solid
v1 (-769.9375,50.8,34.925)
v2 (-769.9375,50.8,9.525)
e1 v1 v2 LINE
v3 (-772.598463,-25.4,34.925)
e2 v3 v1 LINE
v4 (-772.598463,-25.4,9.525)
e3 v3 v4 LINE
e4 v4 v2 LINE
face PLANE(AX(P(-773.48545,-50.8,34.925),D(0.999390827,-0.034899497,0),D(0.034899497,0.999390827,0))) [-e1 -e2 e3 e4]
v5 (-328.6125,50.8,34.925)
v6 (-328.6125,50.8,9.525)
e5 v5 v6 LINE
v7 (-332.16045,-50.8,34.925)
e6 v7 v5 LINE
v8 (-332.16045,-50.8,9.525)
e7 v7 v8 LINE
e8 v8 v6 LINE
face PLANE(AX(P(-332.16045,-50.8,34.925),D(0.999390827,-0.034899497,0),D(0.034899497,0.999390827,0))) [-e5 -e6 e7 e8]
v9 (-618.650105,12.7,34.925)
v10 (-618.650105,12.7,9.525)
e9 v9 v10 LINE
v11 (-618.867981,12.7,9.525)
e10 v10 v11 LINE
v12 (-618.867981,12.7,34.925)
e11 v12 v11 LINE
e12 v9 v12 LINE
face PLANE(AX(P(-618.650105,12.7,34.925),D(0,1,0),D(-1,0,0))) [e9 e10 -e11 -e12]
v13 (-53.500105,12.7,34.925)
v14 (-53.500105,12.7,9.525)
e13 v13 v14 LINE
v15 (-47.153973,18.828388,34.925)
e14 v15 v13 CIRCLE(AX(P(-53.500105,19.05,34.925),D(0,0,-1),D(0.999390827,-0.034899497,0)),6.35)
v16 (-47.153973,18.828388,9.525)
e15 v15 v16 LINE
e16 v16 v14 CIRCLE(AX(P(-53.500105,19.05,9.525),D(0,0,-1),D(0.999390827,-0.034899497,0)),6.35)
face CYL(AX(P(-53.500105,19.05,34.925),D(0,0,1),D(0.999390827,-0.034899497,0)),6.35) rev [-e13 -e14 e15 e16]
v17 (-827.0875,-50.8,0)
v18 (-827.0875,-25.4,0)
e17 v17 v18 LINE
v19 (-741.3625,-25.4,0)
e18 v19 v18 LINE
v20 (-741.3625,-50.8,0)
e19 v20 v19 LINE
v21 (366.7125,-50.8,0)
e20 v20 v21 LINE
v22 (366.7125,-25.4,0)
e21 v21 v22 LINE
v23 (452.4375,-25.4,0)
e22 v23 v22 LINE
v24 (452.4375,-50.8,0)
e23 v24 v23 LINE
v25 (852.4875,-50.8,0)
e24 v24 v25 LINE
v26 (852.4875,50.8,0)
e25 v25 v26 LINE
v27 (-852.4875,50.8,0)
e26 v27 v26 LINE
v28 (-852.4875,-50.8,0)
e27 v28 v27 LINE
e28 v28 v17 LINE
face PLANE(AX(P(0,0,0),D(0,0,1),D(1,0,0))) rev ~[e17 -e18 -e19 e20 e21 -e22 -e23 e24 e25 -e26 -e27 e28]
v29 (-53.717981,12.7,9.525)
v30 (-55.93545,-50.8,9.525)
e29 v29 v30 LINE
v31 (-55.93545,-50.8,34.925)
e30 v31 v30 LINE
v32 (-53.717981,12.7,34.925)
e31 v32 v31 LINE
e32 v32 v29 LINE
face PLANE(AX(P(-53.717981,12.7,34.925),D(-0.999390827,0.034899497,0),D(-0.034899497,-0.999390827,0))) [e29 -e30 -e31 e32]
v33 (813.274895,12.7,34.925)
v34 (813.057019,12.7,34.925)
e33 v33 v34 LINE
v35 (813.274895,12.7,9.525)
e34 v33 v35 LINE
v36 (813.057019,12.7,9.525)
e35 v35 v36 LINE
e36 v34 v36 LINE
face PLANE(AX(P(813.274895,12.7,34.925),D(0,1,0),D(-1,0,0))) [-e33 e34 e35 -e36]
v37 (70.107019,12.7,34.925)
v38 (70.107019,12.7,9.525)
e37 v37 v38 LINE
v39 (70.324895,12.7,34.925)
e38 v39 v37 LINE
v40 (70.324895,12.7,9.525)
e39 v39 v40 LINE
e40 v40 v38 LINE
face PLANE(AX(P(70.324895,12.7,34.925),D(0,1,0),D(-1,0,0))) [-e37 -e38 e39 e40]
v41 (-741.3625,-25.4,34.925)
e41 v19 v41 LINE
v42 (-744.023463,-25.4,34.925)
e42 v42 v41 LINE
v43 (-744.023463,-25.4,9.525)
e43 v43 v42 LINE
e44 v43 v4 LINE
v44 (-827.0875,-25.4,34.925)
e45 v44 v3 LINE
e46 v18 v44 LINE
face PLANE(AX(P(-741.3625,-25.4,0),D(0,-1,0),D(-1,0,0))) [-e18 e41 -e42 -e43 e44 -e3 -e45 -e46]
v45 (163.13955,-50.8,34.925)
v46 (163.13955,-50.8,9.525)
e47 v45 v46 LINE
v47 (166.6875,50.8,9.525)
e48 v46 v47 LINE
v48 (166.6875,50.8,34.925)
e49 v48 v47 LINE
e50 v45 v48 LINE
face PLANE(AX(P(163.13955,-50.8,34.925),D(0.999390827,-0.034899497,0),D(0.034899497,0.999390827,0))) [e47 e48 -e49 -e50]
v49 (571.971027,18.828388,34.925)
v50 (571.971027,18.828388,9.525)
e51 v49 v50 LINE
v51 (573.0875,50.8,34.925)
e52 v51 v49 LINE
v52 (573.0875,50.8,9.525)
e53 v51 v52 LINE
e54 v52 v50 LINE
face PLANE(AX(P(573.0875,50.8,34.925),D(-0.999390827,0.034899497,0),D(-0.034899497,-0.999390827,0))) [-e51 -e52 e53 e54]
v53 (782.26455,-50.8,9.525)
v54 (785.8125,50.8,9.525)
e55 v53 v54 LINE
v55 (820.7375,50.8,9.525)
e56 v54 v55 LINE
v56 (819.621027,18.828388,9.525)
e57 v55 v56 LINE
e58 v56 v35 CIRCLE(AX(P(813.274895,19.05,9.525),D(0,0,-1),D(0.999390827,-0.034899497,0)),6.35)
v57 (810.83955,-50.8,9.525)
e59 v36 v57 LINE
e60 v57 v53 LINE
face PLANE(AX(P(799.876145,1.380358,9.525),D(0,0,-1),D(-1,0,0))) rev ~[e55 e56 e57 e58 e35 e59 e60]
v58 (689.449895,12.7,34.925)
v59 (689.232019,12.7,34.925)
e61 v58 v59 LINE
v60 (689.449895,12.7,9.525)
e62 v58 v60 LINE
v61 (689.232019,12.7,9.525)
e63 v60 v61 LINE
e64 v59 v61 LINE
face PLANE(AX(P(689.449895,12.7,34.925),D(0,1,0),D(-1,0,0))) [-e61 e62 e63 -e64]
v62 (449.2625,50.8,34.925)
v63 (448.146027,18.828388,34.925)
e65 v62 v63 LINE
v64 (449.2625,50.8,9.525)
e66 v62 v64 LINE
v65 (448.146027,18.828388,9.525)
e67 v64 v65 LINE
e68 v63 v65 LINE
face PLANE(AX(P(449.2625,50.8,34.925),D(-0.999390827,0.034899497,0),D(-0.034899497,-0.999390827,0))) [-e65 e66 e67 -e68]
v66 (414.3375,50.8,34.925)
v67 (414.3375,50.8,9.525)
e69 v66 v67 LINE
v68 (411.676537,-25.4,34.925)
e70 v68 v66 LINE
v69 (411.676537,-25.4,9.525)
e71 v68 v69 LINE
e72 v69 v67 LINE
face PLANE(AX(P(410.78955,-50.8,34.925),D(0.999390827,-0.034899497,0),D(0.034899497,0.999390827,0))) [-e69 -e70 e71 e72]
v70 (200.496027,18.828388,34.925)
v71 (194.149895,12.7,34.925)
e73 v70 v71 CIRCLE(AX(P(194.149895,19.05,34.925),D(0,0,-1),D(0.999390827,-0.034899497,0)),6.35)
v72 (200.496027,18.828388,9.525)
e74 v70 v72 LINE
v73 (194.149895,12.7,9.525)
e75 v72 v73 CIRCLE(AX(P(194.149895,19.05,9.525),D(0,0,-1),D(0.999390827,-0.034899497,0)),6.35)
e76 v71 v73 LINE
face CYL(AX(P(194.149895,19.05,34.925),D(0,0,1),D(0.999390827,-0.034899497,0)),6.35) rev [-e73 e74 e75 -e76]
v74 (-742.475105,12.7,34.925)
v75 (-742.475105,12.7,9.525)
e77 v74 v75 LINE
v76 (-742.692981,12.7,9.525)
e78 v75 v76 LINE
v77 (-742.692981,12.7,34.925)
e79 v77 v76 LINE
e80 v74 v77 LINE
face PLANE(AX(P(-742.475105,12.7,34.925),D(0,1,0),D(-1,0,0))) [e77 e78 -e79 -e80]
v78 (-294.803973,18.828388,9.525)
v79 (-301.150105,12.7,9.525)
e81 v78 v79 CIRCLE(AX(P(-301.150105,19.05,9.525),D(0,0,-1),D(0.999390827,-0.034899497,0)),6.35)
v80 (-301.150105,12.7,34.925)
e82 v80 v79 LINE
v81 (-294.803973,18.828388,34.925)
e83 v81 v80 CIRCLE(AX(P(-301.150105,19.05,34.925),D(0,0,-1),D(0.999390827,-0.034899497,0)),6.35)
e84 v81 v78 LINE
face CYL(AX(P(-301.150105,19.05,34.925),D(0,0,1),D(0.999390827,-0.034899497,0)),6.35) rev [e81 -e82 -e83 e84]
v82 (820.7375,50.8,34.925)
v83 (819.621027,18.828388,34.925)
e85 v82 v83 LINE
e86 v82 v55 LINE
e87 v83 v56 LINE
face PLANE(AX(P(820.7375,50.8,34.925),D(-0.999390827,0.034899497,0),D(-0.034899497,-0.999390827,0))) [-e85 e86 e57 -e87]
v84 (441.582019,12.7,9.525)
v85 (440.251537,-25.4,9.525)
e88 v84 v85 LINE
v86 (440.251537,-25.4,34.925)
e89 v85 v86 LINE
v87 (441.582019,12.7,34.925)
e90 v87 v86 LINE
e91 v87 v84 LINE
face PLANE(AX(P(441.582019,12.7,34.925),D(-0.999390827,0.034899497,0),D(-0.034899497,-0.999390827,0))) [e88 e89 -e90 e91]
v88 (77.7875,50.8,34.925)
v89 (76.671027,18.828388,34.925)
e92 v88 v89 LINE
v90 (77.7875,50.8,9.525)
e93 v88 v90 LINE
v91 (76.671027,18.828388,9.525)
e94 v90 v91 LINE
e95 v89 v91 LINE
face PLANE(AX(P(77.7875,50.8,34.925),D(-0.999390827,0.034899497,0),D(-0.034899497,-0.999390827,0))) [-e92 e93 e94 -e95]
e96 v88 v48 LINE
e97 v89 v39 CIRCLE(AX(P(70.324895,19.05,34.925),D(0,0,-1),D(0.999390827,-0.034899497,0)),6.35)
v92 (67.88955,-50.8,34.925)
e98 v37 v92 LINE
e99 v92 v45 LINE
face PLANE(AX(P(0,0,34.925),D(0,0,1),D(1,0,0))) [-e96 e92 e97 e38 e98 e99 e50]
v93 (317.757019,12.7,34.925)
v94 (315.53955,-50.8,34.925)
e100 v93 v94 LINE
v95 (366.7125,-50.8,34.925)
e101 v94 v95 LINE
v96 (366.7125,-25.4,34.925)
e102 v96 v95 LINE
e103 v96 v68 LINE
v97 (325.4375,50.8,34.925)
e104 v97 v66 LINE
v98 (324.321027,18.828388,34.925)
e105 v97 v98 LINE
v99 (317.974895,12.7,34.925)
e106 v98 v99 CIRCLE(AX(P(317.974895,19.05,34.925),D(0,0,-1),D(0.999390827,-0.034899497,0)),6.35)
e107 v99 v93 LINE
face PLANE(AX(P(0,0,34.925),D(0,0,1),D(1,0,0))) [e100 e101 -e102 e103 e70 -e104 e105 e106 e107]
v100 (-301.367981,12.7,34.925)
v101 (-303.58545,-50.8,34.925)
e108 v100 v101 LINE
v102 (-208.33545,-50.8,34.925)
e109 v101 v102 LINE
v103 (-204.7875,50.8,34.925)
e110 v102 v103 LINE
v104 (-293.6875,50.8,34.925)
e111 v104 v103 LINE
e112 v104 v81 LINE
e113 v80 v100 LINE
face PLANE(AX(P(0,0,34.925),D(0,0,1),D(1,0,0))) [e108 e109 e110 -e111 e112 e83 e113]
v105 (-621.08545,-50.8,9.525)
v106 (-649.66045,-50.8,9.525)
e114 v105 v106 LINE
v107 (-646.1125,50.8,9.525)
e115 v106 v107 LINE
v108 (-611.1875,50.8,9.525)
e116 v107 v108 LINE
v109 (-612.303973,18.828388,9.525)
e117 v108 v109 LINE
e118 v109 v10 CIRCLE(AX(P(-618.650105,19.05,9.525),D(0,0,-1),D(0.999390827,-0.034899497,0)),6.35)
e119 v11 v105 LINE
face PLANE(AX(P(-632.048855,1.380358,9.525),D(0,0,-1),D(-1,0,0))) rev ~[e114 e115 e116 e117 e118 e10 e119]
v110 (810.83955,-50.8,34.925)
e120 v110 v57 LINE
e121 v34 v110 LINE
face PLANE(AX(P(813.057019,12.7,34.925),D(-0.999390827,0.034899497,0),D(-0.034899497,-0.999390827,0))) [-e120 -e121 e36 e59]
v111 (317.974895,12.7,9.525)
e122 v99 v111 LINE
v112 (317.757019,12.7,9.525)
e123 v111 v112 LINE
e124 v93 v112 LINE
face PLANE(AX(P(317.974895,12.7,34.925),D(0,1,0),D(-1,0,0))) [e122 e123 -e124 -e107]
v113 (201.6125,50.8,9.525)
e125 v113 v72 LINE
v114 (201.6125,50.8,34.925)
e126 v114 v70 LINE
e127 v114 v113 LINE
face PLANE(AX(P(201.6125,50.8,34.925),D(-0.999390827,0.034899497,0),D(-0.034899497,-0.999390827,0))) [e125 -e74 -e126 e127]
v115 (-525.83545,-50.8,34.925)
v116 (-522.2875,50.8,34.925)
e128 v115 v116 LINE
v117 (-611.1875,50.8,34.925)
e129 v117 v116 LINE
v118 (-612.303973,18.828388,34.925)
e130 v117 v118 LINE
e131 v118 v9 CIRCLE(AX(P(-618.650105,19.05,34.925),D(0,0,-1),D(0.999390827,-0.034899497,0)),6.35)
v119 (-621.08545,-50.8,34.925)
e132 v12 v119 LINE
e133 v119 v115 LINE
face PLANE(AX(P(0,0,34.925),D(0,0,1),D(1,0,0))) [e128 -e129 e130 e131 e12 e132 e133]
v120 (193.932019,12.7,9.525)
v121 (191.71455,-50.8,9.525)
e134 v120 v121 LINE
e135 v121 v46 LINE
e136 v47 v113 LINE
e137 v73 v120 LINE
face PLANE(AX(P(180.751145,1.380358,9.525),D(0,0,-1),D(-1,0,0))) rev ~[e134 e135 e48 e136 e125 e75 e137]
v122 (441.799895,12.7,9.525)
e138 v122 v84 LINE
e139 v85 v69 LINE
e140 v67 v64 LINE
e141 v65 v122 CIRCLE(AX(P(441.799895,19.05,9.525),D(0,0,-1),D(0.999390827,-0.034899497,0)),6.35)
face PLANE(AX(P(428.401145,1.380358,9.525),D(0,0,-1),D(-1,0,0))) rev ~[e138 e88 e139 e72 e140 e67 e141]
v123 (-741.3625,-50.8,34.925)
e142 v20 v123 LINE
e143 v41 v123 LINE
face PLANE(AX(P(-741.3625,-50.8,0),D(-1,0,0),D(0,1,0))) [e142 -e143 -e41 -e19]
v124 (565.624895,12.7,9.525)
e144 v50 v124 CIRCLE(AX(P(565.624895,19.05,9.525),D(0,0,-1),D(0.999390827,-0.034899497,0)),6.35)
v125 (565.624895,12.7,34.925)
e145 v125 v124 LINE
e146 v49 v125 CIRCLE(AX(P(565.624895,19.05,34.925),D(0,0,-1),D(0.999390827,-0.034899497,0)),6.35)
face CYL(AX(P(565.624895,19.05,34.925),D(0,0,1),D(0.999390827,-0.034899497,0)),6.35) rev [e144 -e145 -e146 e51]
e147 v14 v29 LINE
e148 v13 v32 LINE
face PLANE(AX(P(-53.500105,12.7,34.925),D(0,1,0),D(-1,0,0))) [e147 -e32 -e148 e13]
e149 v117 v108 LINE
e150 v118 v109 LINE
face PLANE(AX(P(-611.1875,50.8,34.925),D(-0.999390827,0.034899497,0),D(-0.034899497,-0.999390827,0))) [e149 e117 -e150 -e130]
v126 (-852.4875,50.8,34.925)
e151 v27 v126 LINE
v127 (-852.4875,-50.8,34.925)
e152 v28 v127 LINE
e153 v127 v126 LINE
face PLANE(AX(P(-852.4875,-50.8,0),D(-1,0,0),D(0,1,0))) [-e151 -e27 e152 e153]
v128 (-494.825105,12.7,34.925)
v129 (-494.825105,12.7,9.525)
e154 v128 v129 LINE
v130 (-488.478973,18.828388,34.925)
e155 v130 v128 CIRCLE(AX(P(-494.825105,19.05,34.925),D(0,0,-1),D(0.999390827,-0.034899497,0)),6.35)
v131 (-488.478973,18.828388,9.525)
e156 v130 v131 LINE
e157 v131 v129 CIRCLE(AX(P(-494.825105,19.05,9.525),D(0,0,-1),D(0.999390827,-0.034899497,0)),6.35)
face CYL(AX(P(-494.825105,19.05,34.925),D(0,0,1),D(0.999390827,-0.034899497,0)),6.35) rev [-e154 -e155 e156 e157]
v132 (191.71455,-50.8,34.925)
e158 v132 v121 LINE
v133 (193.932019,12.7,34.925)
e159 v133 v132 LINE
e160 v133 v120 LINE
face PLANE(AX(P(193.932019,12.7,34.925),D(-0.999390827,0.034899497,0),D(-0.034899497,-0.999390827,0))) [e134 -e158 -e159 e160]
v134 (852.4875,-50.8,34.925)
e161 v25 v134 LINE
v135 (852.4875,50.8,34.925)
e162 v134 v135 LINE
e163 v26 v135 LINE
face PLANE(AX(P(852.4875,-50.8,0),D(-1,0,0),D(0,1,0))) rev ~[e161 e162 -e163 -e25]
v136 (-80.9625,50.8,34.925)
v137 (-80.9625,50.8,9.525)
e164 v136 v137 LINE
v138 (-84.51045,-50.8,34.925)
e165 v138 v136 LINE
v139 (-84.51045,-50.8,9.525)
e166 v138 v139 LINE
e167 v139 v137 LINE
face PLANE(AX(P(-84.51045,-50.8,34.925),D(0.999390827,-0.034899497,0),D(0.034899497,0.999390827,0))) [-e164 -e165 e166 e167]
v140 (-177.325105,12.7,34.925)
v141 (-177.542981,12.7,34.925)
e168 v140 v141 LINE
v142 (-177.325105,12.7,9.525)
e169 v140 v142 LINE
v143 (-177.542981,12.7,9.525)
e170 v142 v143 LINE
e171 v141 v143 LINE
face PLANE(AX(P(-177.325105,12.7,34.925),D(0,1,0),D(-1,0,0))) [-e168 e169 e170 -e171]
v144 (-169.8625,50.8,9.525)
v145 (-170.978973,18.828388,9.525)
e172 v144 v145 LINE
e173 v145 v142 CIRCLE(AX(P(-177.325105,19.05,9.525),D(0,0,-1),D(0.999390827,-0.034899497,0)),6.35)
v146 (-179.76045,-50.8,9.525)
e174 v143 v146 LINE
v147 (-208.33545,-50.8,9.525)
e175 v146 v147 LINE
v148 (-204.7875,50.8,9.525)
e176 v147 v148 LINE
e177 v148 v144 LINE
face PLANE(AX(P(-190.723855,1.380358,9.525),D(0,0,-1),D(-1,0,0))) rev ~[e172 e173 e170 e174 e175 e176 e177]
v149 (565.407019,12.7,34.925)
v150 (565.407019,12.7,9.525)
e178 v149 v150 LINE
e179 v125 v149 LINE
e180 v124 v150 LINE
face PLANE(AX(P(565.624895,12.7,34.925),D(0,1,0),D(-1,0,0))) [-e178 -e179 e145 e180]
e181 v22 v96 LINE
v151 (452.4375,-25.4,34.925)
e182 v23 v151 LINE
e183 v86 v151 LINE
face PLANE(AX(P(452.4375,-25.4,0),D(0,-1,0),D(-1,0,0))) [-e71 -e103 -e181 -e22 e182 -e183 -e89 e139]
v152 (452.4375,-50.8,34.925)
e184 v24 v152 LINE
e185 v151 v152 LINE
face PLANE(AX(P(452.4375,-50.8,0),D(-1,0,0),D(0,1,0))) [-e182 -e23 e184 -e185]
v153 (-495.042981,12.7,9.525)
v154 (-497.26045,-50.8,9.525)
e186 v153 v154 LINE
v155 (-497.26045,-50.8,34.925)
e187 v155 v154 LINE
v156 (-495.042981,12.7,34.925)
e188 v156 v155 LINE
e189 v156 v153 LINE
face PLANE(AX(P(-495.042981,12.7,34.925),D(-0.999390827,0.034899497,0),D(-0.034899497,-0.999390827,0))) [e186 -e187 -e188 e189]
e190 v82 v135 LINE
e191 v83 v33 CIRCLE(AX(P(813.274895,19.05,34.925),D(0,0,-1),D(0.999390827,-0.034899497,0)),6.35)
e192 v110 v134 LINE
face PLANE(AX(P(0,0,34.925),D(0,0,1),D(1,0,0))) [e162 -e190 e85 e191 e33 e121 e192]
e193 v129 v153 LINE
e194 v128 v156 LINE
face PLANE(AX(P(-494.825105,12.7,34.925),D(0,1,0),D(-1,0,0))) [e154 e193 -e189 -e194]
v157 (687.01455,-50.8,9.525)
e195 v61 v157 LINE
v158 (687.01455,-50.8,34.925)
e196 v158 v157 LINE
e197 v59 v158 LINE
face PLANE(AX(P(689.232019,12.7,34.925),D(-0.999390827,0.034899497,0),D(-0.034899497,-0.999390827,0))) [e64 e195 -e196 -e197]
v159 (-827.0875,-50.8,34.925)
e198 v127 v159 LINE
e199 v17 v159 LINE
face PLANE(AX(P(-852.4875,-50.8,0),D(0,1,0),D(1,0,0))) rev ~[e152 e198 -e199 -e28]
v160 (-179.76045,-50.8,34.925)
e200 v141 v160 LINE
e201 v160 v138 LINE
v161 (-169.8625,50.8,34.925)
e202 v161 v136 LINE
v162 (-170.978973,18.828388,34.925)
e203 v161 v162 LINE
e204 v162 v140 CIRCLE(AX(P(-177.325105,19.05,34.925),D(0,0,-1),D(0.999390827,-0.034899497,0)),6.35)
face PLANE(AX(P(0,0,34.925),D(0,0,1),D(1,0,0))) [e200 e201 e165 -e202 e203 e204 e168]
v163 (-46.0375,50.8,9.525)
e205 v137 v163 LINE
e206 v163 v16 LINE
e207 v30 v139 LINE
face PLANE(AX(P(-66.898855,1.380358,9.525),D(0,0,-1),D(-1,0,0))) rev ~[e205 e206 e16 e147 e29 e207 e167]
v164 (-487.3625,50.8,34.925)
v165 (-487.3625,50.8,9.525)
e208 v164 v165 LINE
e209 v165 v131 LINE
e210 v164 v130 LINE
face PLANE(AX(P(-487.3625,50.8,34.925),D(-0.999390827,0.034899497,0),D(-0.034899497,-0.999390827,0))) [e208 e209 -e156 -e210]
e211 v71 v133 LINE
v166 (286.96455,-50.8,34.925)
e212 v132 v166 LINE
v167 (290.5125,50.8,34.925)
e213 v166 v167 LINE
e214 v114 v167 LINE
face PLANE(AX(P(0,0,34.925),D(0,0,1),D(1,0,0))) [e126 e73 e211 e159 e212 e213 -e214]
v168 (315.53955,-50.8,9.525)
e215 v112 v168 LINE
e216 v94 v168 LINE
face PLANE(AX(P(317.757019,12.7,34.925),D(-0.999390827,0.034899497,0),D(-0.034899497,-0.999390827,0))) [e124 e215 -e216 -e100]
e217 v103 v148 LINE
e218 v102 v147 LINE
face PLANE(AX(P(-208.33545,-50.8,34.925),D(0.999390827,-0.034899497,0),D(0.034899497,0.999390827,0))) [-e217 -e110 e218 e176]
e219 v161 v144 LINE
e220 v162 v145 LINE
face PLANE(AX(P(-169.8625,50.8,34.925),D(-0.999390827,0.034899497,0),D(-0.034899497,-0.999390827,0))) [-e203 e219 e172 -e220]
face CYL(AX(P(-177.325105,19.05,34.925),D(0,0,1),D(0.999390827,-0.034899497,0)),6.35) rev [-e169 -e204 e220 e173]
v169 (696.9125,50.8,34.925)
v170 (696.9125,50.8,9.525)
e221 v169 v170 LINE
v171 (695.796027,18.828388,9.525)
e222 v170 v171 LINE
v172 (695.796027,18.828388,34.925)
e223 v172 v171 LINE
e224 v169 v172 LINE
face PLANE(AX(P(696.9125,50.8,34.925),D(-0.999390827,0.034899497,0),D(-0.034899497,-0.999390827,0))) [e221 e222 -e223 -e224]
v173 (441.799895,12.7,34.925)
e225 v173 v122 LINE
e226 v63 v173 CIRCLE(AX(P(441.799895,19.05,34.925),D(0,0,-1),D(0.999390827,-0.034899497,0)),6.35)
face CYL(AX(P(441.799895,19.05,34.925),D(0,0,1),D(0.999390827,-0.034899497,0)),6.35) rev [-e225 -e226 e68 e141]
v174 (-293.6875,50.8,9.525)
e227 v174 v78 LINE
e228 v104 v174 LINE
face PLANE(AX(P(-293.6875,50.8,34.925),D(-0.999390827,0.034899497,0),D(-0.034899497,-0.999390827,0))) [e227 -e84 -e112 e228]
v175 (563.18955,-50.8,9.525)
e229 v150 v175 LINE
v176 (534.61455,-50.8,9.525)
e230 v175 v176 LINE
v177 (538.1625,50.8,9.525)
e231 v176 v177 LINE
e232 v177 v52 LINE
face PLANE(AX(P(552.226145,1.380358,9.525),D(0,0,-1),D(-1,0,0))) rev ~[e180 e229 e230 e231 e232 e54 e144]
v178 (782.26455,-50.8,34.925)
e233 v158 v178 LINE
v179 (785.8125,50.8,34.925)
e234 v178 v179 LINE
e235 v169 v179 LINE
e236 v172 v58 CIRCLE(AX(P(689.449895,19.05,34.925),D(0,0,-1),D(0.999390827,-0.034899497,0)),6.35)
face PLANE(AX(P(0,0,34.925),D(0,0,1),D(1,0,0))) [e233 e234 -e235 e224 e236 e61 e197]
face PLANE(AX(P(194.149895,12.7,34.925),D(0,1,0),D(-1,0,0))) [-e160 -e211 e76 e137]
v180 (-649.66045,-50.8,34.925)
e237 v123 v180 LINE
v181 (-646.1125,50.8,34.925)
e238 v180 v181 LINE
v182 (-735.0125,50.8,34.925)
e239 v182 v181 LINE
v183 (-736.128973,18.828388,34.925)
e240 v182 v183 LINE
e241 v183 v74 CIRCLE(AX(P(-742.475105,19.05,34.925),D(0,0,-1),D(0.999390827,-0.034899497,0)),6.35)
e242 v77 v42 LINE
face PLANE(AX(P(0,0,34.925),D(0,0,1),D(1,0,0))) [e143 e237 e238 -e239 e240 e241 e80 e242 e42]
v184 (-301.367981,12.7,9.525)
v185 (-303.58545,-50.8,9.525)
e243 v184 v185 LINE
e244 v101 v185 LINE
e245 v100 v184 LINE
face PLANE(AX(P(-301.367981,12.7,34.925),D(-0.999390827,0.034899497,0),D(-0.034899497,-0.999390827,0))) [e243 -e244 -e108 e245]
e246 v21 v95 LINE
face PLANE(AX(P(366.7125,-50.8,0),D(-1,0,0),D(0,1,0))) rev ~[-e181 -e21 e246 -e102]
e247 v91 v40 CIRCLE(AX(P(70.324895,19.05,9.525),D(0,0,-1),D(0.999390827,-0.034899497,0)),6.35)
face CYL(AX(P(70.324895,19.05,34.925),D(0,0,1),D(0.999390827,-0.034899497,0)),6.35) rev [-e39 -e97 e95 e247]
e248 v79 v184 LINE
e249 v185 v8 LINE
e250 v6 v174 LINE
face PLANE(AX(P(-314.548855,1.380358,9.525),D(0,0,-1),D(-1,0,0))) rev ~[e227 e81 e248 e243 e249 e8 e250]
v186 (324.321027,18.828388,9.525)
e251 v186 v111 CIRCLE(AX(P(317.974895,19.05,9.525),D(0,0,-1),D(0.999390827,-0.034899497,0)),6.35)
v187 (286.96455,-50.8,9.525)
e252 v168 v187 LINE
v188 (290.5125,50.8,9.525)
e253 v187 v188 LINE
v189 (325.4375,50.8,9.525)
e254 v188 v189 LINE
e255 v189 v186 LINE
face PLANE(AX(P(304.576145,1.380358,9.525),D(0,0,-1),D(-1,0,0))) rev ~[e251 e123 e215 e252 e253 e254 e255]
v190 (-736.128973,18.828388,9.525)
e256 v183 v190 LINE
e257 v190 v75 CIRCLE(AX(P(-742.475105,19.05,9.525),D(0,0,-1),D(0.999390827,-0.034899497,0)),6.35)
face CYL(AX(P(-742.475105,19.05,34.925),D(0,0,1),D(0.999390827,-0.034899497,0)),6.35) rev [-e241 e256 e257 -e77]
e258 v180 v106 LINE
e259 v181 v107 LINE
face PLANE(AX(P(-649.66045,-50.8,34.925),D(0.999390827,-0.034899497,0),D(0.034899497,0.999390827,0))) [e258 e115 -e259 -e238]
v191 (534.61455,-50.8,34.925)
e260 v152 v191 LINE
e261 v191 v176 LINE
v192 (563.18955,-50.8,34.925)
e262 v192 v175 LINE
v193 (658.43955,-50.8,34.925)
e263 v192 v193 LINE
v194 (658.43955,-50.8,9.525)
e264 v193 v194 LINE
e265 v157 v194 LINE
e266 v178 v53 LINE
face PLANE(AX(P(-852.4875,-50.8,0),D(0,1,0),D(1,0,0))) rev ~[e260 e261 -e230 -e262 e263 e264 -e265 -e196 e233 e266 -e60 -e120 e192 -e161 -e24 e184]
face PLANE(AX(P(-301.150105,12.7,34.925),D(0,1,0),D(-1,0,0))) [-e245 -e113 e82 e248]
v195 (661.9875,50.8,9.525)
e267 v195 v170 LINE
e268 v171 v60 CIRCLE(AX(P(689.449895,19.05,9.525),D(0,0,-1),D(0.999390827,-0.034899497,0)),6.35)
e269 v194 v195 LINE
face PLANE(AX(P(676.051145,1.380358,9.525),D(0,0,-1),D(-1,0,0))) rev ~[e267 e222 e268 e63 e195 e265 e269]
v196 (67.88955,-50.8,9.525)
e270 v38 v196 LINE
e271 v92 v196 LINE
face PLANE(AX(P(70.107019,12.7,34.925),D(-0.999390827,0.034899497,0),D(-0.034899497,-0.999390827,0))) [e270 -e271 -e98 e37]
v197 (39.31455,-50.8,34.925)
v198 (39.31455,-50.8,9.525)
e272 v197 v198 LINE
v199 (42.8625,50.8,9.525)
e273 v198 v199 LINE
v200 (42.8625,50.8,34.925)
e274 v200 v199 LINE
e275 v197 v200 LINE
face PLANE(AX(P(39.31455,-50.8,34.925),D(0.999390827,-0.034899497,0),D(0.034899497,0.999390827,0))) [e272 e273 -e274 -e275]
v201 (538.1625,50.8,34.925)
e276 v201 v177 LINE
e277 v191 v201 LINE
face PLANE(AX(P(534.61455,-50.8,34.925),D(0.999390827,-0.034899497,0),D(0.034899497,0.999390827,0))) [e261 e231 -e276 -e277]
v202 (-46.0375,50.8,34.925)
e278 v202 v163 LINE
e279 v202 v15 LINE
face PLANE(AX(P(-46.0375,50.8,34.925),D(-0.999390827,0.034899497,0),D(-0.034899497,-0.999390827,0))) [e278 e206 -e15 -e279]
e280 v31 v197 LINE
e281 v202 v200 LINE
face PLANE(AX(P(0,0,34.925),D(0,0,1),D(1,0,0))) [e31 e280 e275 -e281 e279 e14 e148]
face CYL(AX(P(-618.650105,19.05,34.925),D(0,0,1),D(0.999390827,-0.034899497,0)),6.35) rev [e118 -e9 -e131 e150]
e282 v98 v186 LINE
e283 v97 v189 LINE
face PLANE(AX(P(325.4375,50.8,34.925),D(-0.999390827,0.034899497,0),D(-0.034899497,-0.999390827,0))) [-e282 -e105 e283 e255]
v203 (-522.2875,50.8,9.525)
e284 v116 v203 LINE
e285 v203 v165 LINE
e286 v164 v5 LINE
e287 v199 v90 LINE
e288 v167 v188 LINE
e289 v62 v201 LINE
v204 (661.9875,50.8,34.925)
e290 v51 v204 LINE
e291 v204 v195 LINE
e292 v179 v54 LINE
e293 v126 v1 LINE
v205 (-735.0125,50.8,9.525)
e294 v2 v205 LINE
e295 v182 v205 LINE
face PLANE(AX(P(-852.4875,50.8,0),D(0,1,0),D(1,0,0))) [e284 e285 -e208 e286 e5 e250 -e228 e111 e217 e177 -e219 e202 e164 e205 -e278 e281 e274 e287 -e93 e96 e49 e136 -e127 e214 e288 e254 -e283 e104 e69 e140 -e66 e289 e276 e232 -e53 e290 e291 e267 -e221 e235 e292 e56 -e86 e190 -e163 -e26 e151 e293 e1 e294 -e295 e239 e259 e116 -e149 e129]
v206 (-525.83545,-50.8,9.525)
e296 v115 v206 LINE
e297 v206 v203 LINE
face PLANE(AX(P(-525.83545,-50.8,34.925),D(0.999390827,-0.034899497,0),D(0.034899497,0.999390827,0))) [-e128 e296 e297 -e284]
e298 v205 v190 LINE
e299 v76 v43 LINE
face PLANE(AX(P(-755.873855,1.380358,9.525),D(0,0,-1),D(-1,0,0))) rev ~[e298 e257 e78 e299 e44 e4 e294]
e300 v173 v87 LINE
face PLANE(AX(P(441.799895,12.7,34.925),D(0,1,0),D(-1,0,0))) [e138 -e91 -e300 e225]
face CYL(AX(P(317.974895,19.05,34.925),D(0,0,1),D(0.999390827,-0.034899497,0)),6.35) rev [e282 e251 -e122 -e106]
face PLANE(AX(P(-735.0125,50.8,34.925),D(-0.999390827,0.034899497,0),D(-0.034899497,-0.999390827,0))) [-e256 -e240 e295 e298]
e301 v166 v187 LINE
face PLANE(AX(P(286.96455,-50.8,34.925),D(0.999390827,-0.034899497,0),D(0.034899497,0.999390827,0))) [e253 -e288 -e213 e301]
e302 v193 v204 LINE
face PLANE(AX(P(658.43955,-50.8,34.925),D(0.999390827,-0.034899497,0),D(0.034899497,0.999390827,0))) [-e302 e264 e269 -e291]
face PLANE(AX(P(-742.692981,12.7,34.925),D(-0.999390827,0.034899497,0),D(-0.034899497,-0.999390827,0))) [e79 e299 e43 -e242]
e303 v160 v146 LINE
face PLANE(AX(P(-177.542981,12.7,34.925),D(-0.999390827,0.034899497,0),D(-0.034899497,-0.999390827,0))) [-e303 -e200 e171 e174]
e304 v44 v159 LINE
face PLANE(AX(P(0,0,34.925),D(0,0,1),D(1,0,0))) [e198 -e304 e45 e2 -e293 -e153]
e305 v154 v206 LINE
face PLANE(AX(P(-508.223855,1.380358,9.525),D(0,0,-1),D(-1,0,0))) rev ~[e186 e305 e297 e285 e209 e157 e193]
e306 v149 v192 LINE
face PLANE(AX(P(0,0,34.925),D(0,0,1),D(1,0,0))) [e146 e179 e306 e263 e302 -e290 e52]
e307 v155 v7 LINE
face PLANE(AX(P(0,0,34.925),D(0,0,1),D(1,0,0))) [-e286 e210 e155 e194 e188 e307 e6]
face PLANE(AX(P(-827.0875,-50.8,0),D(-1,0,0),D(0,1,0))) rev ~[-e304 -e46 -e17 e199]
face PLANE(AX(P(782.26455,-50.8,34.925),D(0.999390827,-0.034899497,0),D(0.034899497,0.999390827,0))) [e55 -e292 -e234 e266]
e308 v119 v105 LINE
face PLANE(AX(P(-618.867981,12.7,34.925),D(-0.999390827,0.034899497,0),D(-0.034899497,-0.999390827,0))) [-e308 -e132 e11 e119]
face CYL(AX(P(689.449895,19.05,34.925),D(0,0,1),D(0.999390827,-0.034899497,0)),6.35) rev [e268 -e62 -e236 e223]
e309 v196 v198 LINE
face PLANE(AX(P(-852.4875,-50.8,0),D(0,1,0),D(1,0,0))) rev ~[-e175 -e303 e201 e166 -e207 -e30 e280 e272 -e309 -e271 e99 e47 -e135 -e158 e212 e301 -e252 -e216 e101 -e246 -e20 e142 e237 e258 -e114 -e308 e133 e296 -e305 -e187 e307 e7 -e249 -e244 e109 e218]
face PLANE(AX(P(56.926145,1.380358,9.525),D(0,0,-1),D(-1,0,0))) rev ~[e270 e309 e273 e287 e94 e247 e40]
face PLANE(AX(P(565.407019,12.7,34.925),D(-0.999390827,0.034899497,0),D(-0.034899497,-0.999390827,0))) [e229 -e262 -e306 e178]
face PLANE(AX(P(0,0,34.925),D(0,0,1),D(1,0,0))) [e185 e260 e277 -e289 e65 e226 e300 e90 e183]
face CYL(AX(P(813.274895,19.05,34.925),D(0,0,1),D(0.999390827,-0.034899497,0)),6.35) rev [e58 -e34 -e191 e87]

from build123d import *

# Parameters (mm, degrees)
SKETCH1_W           = 1704.975
SKETCH1_H           = 101.6
BOSS_EXTRUDE1_DEPTH = 34.925
CUT_EXTRUDE1_DEPTH  = 25.4
SKETCH3_W           = 85.725
SKETCH3_H           = 25.4
CUT_EXTRUDE2_DEPTH  = 855.713597225


with BuildPart() as part:
    # Sketch1 → Boss-Extrude1 (new body)
    with BuildSketch(Plane.XY):
        Rectangle(SKETCH1_W, SKETCH1_H)
    extrude(amount=BOSS_EXTRUDE1_DEPTH)

    # Sketch2 → Cut-Extrude1 (cut)
    with BuildSketch(Plane.XY.offset(34.925)):
        with BuildLine():
            Line((782.26454982, -50.8), (785.8125, 50.8))
            Line((785.8125, 50.8), (820.7375, 50.8))
            Line((820.7375, 50.8), (819.621026714, 18.828388196))
            ThreePointArc((819.621026714, 18.828388196), (817.685975615, 14.482192268), (813.274894962, 12.7))
            Line((813.274894962, 12.7), (813.057018682, 12.7))
            Line((813.057018682, 12.7), (810.83954982, -50.8))
            Line((810.83954982, -50.8), (782.26454982, -50.8))
        make_face()
        with BuildLine():
            Line((658.43954982, -50.8), (661.9875, 50.8))
            Line((661.9875, 50.8), (696.9125, 50.8))
            Line((696.9125, 50.8), (695.796026714, 18.828388196))
            ThreePointArc((695.796026714, 18.828388196), (693.860975615, 14.482192268), (689.449894962, 12.7))
            Line((689.449894962, 12.7), (689.232018682, 12.7))
            Line((689.232018682, 12.7), (687.01454982, -50.8))
            Line((687.01454982, -50.8), (658.43954982, -50.8))
        make_face()
        with BuildLine():
            Line((534.61454982, -50.8), (538.1625, 50.8))
            Line((538.1625, 50.8), (573.0875, 50.8))
            Line((573.0875, 50.8), (571.971026714, 18.828388196))
            ThreePointArc((571.971026714, 18.828388196), (570.035975615, 14.482192268), (565.624894962, 12.7))
            Line((565.624894962, 12.7), (565.407018682, 12.7))
            Line((565.407018682, 12.7), (563.18954982, -50.8))
            Line((563.18954982, -50.8), (534.61454982, -50.8))
        make_face()
        with BuildLine():
            Line((410.78954982, -50.8), (414.3375, 50.8))
            Line((414.3375, 50.8), (449.2625, 50.8))
            Line((449.2625, 50.8), (448.146026714, 18.828388196))
            ThreePointArc((448.146026714, 18.828388196), (446.210975615, 14.482192268), (441.799894962, 12.7))
            Line((441.799894962, 12.7), (441.582018682, 12.7))
            Line((441.582018682, 12.7), (439.36454982, -50.8))
            Line((439.36454982, -50.8), (410.78954982, -50.8))
        make_face()
        with BuildLine():
            Line((286.96454982, -50.8), (290.5125, 50.8))
            Line((290.5125, 50.8), (325.4375, 50.8))
            Line((325.4375, 50.8), (324.321026714, 18.828388196))
            ThreePointArc((324.321026714, 18.828388196), (322.385975615, 14.482192268), (317.974894962, 12.7))
            Line((317.974894962, 12.7), (317.757018682, 12.7))
            Line((317.757018682, 12.7), (315.53954982, -50.8))
            Line((315.53954982, -50.8), (286.96454982, -50.8))
        make_face()
        with BuildLine():
            Line((163.13954982, -50.8), (166.6875, 50.8))
            Line((166.6875, 50.8), (201.6125, 50.8))
            Line((201.6125, 50.8), (200.496026714, 18.828388196))
            ThreePointArc((200.496026714, 18.828388196), (198.560975615, 14.482192268), (194.149894962, 12.7))
            Line((194.149894962, 12.7), (193.932018682, 12.7))
            Line((193.932018682, 12.7), (191.71454982, -50.8))
            Line((191.71454982, -50.8), (163.13954982, -50.8))
        make_face()
        with BuildLine():
            Line((39.31454982, -50.8), (42.8625, 50.8))
            Line((42.8625, 50.8), (77.7875, 50.8))
            Line((77.7875, 50.8), (76.671026714, 18.828388196))
            ThreePointArc((76.671026714, 18.828388196), (74.735975615, 14.482192268), (70.324894962, 12.7))
            Line((70.324894962, 12.7), (70.107018682, 12.7))
            Line((70.107018682, 12.7), (67.88954982, -50.8))
            Line((67.88954982, -50.8), (39.31454982, -50.8))
        make_face()
        with BuildLine():
            Line((-84.51045018, -50.8), (-80.9625, 50.8))
            Line((-80.9625, 50.8), (-46.0375, 50.8))
            Line((-46.0375, 50.8), (-47.153973286, 18.828388196))
            ThreePointArc((-47.153973286, 18.828388196), (-49.089024385, 14.482192268), (-53.500105038, 12.7))
            Line((-53.500105038, 12.7), (-53.717981318, 12.7))
            Line((-53.717981318, 12.7), (-55.93545018, -50.8))
            Line((-55.93545018, -50.8), (-84.51045018, -50.8))
        make_face()
        with BuildLine():
            Line((-208.33545018, -50.8), (-204.7875, 50.8))
            Line((-204.7875, 50.8), (-169.8625, 50.8))
            Line((-169.8625, 50.8), (-170.978973286, 18.828388196))
            ThreePointArc((-170.978973286, 18.828388196), (-172.914024385, 14.482192268), (-177.325105038, 12.7))
            Line((-177.325105038, 12.7), (-177.542981318, 12.7))
            Line((-177.542981318, 12.7), (-179.76045018, -50.8))
            Line((-179.76045018, -50.8), (-208.33545018, -50.8))
        make_face()
        with BuildLine():
            Line((-332.16045018, -50.8), (-328.6125, 50.8))
            Line((-328.6125, 50.8), (-293.6875, 50.8))
            Line((-293.6875, 50.8), (-294.803973286, 18.828388196))
            ThreePointArc((-294.803973286, 18.828388196), (-296.739024385, 14.482192268), (-301.150105038, 12.7))
            Line((-301.150105038, 12.7), (-301.367981318, 12.7))
            Line((-301.367981318, 12.7), (-303.58545018, -50.8))
            Line((-303.58545018, -50.8), (-332.16045018, -50.8))
        make_face()
        with BuildLine():
            Line((-525.83545018, -50.8), (-522.2875, 50.8))
            Line((-522.2875, 50.8), (-487.3625, 50.8))
            Line((-487.3625, 50.8), (-488.478973286, 18.828388196))
            ThreePointArc((-488.478973286, 18.828388196), (-490.414024385, 14.482192268), (-494.825105038, 12.7))
            Line((-494.825105038, 12.7), (-495.042981318, 12.7))
            Line((-495.042981318, 12.7), (-497.26045018, -50.8))
            Line((-497.26045018, -50.8), (-525.83545018, -50.8))
        make_face()
        with BuildLine():
            Line((-649.66045018, -50.8), (-646.1125, 50.8))
            Line((-646.1125, 50.8), (-611.1875, 50.8))
            Line((-611.1875, 50.8), (-612.303973286, 18.828388196))
            ThreePointArc((-612.303973286, 18.828388196), (-614.239024385, 14.482192268), (-618.650105038, 12.7))
            Line((-618.650105038, 12.7), (-618.867981318, 12.7))
            Line((-618.867981318, 12.7), (-621.08545018, -50.8))
            Line((-621.08545018, -50.8), (-649.66045018, -50.8))
        make_face()
        with BuildLine():
            Line((-773.48545018, -50.8), (-769.9375, 50.8))
            Line((-769.9375, 50.8), (-735.0125, 50.8))
            Line((-735.0125, 50.8), (-736.128973286, 18.828388196))
            ThreePointArc((-736.128973286, 18.828388196), (-738.064024385, 14.482192268), (-742.475105038, 12.7))
            Line((-742.475105038, 12.7), (-742.692981318, 12.7))
            Line((-742.692981318, 12.7), (-744.91045018, -50.8))
            Line((-744.91045018, -50.8), (-773.48545018, -50.8))
        make_face()
    extrude(amount=-CUT_EXTRUDE1_DEPTH, mode=Mode.SUBTRACT)

    # Sketch3 → Cut-Extrude2 (cut, through all)
    with BuildSketch(Plane(origin=(0, 0, 0), x_dir=(-1, 0, 0), z_dir=(0, 0, -1))):
        with Locations((784.225, -38.1)):
            Rectangle(SKETCH3_W, SKETCH3_H)
        with Locations((-409.575, -38.1)):
            Rectangle(SKETCH3_W, SKETCH3_H)
    extrude(amount=-CUT_EXTRUDE2_DEPTH, mode=Mode.SUBTRACT)


solid = part.part
